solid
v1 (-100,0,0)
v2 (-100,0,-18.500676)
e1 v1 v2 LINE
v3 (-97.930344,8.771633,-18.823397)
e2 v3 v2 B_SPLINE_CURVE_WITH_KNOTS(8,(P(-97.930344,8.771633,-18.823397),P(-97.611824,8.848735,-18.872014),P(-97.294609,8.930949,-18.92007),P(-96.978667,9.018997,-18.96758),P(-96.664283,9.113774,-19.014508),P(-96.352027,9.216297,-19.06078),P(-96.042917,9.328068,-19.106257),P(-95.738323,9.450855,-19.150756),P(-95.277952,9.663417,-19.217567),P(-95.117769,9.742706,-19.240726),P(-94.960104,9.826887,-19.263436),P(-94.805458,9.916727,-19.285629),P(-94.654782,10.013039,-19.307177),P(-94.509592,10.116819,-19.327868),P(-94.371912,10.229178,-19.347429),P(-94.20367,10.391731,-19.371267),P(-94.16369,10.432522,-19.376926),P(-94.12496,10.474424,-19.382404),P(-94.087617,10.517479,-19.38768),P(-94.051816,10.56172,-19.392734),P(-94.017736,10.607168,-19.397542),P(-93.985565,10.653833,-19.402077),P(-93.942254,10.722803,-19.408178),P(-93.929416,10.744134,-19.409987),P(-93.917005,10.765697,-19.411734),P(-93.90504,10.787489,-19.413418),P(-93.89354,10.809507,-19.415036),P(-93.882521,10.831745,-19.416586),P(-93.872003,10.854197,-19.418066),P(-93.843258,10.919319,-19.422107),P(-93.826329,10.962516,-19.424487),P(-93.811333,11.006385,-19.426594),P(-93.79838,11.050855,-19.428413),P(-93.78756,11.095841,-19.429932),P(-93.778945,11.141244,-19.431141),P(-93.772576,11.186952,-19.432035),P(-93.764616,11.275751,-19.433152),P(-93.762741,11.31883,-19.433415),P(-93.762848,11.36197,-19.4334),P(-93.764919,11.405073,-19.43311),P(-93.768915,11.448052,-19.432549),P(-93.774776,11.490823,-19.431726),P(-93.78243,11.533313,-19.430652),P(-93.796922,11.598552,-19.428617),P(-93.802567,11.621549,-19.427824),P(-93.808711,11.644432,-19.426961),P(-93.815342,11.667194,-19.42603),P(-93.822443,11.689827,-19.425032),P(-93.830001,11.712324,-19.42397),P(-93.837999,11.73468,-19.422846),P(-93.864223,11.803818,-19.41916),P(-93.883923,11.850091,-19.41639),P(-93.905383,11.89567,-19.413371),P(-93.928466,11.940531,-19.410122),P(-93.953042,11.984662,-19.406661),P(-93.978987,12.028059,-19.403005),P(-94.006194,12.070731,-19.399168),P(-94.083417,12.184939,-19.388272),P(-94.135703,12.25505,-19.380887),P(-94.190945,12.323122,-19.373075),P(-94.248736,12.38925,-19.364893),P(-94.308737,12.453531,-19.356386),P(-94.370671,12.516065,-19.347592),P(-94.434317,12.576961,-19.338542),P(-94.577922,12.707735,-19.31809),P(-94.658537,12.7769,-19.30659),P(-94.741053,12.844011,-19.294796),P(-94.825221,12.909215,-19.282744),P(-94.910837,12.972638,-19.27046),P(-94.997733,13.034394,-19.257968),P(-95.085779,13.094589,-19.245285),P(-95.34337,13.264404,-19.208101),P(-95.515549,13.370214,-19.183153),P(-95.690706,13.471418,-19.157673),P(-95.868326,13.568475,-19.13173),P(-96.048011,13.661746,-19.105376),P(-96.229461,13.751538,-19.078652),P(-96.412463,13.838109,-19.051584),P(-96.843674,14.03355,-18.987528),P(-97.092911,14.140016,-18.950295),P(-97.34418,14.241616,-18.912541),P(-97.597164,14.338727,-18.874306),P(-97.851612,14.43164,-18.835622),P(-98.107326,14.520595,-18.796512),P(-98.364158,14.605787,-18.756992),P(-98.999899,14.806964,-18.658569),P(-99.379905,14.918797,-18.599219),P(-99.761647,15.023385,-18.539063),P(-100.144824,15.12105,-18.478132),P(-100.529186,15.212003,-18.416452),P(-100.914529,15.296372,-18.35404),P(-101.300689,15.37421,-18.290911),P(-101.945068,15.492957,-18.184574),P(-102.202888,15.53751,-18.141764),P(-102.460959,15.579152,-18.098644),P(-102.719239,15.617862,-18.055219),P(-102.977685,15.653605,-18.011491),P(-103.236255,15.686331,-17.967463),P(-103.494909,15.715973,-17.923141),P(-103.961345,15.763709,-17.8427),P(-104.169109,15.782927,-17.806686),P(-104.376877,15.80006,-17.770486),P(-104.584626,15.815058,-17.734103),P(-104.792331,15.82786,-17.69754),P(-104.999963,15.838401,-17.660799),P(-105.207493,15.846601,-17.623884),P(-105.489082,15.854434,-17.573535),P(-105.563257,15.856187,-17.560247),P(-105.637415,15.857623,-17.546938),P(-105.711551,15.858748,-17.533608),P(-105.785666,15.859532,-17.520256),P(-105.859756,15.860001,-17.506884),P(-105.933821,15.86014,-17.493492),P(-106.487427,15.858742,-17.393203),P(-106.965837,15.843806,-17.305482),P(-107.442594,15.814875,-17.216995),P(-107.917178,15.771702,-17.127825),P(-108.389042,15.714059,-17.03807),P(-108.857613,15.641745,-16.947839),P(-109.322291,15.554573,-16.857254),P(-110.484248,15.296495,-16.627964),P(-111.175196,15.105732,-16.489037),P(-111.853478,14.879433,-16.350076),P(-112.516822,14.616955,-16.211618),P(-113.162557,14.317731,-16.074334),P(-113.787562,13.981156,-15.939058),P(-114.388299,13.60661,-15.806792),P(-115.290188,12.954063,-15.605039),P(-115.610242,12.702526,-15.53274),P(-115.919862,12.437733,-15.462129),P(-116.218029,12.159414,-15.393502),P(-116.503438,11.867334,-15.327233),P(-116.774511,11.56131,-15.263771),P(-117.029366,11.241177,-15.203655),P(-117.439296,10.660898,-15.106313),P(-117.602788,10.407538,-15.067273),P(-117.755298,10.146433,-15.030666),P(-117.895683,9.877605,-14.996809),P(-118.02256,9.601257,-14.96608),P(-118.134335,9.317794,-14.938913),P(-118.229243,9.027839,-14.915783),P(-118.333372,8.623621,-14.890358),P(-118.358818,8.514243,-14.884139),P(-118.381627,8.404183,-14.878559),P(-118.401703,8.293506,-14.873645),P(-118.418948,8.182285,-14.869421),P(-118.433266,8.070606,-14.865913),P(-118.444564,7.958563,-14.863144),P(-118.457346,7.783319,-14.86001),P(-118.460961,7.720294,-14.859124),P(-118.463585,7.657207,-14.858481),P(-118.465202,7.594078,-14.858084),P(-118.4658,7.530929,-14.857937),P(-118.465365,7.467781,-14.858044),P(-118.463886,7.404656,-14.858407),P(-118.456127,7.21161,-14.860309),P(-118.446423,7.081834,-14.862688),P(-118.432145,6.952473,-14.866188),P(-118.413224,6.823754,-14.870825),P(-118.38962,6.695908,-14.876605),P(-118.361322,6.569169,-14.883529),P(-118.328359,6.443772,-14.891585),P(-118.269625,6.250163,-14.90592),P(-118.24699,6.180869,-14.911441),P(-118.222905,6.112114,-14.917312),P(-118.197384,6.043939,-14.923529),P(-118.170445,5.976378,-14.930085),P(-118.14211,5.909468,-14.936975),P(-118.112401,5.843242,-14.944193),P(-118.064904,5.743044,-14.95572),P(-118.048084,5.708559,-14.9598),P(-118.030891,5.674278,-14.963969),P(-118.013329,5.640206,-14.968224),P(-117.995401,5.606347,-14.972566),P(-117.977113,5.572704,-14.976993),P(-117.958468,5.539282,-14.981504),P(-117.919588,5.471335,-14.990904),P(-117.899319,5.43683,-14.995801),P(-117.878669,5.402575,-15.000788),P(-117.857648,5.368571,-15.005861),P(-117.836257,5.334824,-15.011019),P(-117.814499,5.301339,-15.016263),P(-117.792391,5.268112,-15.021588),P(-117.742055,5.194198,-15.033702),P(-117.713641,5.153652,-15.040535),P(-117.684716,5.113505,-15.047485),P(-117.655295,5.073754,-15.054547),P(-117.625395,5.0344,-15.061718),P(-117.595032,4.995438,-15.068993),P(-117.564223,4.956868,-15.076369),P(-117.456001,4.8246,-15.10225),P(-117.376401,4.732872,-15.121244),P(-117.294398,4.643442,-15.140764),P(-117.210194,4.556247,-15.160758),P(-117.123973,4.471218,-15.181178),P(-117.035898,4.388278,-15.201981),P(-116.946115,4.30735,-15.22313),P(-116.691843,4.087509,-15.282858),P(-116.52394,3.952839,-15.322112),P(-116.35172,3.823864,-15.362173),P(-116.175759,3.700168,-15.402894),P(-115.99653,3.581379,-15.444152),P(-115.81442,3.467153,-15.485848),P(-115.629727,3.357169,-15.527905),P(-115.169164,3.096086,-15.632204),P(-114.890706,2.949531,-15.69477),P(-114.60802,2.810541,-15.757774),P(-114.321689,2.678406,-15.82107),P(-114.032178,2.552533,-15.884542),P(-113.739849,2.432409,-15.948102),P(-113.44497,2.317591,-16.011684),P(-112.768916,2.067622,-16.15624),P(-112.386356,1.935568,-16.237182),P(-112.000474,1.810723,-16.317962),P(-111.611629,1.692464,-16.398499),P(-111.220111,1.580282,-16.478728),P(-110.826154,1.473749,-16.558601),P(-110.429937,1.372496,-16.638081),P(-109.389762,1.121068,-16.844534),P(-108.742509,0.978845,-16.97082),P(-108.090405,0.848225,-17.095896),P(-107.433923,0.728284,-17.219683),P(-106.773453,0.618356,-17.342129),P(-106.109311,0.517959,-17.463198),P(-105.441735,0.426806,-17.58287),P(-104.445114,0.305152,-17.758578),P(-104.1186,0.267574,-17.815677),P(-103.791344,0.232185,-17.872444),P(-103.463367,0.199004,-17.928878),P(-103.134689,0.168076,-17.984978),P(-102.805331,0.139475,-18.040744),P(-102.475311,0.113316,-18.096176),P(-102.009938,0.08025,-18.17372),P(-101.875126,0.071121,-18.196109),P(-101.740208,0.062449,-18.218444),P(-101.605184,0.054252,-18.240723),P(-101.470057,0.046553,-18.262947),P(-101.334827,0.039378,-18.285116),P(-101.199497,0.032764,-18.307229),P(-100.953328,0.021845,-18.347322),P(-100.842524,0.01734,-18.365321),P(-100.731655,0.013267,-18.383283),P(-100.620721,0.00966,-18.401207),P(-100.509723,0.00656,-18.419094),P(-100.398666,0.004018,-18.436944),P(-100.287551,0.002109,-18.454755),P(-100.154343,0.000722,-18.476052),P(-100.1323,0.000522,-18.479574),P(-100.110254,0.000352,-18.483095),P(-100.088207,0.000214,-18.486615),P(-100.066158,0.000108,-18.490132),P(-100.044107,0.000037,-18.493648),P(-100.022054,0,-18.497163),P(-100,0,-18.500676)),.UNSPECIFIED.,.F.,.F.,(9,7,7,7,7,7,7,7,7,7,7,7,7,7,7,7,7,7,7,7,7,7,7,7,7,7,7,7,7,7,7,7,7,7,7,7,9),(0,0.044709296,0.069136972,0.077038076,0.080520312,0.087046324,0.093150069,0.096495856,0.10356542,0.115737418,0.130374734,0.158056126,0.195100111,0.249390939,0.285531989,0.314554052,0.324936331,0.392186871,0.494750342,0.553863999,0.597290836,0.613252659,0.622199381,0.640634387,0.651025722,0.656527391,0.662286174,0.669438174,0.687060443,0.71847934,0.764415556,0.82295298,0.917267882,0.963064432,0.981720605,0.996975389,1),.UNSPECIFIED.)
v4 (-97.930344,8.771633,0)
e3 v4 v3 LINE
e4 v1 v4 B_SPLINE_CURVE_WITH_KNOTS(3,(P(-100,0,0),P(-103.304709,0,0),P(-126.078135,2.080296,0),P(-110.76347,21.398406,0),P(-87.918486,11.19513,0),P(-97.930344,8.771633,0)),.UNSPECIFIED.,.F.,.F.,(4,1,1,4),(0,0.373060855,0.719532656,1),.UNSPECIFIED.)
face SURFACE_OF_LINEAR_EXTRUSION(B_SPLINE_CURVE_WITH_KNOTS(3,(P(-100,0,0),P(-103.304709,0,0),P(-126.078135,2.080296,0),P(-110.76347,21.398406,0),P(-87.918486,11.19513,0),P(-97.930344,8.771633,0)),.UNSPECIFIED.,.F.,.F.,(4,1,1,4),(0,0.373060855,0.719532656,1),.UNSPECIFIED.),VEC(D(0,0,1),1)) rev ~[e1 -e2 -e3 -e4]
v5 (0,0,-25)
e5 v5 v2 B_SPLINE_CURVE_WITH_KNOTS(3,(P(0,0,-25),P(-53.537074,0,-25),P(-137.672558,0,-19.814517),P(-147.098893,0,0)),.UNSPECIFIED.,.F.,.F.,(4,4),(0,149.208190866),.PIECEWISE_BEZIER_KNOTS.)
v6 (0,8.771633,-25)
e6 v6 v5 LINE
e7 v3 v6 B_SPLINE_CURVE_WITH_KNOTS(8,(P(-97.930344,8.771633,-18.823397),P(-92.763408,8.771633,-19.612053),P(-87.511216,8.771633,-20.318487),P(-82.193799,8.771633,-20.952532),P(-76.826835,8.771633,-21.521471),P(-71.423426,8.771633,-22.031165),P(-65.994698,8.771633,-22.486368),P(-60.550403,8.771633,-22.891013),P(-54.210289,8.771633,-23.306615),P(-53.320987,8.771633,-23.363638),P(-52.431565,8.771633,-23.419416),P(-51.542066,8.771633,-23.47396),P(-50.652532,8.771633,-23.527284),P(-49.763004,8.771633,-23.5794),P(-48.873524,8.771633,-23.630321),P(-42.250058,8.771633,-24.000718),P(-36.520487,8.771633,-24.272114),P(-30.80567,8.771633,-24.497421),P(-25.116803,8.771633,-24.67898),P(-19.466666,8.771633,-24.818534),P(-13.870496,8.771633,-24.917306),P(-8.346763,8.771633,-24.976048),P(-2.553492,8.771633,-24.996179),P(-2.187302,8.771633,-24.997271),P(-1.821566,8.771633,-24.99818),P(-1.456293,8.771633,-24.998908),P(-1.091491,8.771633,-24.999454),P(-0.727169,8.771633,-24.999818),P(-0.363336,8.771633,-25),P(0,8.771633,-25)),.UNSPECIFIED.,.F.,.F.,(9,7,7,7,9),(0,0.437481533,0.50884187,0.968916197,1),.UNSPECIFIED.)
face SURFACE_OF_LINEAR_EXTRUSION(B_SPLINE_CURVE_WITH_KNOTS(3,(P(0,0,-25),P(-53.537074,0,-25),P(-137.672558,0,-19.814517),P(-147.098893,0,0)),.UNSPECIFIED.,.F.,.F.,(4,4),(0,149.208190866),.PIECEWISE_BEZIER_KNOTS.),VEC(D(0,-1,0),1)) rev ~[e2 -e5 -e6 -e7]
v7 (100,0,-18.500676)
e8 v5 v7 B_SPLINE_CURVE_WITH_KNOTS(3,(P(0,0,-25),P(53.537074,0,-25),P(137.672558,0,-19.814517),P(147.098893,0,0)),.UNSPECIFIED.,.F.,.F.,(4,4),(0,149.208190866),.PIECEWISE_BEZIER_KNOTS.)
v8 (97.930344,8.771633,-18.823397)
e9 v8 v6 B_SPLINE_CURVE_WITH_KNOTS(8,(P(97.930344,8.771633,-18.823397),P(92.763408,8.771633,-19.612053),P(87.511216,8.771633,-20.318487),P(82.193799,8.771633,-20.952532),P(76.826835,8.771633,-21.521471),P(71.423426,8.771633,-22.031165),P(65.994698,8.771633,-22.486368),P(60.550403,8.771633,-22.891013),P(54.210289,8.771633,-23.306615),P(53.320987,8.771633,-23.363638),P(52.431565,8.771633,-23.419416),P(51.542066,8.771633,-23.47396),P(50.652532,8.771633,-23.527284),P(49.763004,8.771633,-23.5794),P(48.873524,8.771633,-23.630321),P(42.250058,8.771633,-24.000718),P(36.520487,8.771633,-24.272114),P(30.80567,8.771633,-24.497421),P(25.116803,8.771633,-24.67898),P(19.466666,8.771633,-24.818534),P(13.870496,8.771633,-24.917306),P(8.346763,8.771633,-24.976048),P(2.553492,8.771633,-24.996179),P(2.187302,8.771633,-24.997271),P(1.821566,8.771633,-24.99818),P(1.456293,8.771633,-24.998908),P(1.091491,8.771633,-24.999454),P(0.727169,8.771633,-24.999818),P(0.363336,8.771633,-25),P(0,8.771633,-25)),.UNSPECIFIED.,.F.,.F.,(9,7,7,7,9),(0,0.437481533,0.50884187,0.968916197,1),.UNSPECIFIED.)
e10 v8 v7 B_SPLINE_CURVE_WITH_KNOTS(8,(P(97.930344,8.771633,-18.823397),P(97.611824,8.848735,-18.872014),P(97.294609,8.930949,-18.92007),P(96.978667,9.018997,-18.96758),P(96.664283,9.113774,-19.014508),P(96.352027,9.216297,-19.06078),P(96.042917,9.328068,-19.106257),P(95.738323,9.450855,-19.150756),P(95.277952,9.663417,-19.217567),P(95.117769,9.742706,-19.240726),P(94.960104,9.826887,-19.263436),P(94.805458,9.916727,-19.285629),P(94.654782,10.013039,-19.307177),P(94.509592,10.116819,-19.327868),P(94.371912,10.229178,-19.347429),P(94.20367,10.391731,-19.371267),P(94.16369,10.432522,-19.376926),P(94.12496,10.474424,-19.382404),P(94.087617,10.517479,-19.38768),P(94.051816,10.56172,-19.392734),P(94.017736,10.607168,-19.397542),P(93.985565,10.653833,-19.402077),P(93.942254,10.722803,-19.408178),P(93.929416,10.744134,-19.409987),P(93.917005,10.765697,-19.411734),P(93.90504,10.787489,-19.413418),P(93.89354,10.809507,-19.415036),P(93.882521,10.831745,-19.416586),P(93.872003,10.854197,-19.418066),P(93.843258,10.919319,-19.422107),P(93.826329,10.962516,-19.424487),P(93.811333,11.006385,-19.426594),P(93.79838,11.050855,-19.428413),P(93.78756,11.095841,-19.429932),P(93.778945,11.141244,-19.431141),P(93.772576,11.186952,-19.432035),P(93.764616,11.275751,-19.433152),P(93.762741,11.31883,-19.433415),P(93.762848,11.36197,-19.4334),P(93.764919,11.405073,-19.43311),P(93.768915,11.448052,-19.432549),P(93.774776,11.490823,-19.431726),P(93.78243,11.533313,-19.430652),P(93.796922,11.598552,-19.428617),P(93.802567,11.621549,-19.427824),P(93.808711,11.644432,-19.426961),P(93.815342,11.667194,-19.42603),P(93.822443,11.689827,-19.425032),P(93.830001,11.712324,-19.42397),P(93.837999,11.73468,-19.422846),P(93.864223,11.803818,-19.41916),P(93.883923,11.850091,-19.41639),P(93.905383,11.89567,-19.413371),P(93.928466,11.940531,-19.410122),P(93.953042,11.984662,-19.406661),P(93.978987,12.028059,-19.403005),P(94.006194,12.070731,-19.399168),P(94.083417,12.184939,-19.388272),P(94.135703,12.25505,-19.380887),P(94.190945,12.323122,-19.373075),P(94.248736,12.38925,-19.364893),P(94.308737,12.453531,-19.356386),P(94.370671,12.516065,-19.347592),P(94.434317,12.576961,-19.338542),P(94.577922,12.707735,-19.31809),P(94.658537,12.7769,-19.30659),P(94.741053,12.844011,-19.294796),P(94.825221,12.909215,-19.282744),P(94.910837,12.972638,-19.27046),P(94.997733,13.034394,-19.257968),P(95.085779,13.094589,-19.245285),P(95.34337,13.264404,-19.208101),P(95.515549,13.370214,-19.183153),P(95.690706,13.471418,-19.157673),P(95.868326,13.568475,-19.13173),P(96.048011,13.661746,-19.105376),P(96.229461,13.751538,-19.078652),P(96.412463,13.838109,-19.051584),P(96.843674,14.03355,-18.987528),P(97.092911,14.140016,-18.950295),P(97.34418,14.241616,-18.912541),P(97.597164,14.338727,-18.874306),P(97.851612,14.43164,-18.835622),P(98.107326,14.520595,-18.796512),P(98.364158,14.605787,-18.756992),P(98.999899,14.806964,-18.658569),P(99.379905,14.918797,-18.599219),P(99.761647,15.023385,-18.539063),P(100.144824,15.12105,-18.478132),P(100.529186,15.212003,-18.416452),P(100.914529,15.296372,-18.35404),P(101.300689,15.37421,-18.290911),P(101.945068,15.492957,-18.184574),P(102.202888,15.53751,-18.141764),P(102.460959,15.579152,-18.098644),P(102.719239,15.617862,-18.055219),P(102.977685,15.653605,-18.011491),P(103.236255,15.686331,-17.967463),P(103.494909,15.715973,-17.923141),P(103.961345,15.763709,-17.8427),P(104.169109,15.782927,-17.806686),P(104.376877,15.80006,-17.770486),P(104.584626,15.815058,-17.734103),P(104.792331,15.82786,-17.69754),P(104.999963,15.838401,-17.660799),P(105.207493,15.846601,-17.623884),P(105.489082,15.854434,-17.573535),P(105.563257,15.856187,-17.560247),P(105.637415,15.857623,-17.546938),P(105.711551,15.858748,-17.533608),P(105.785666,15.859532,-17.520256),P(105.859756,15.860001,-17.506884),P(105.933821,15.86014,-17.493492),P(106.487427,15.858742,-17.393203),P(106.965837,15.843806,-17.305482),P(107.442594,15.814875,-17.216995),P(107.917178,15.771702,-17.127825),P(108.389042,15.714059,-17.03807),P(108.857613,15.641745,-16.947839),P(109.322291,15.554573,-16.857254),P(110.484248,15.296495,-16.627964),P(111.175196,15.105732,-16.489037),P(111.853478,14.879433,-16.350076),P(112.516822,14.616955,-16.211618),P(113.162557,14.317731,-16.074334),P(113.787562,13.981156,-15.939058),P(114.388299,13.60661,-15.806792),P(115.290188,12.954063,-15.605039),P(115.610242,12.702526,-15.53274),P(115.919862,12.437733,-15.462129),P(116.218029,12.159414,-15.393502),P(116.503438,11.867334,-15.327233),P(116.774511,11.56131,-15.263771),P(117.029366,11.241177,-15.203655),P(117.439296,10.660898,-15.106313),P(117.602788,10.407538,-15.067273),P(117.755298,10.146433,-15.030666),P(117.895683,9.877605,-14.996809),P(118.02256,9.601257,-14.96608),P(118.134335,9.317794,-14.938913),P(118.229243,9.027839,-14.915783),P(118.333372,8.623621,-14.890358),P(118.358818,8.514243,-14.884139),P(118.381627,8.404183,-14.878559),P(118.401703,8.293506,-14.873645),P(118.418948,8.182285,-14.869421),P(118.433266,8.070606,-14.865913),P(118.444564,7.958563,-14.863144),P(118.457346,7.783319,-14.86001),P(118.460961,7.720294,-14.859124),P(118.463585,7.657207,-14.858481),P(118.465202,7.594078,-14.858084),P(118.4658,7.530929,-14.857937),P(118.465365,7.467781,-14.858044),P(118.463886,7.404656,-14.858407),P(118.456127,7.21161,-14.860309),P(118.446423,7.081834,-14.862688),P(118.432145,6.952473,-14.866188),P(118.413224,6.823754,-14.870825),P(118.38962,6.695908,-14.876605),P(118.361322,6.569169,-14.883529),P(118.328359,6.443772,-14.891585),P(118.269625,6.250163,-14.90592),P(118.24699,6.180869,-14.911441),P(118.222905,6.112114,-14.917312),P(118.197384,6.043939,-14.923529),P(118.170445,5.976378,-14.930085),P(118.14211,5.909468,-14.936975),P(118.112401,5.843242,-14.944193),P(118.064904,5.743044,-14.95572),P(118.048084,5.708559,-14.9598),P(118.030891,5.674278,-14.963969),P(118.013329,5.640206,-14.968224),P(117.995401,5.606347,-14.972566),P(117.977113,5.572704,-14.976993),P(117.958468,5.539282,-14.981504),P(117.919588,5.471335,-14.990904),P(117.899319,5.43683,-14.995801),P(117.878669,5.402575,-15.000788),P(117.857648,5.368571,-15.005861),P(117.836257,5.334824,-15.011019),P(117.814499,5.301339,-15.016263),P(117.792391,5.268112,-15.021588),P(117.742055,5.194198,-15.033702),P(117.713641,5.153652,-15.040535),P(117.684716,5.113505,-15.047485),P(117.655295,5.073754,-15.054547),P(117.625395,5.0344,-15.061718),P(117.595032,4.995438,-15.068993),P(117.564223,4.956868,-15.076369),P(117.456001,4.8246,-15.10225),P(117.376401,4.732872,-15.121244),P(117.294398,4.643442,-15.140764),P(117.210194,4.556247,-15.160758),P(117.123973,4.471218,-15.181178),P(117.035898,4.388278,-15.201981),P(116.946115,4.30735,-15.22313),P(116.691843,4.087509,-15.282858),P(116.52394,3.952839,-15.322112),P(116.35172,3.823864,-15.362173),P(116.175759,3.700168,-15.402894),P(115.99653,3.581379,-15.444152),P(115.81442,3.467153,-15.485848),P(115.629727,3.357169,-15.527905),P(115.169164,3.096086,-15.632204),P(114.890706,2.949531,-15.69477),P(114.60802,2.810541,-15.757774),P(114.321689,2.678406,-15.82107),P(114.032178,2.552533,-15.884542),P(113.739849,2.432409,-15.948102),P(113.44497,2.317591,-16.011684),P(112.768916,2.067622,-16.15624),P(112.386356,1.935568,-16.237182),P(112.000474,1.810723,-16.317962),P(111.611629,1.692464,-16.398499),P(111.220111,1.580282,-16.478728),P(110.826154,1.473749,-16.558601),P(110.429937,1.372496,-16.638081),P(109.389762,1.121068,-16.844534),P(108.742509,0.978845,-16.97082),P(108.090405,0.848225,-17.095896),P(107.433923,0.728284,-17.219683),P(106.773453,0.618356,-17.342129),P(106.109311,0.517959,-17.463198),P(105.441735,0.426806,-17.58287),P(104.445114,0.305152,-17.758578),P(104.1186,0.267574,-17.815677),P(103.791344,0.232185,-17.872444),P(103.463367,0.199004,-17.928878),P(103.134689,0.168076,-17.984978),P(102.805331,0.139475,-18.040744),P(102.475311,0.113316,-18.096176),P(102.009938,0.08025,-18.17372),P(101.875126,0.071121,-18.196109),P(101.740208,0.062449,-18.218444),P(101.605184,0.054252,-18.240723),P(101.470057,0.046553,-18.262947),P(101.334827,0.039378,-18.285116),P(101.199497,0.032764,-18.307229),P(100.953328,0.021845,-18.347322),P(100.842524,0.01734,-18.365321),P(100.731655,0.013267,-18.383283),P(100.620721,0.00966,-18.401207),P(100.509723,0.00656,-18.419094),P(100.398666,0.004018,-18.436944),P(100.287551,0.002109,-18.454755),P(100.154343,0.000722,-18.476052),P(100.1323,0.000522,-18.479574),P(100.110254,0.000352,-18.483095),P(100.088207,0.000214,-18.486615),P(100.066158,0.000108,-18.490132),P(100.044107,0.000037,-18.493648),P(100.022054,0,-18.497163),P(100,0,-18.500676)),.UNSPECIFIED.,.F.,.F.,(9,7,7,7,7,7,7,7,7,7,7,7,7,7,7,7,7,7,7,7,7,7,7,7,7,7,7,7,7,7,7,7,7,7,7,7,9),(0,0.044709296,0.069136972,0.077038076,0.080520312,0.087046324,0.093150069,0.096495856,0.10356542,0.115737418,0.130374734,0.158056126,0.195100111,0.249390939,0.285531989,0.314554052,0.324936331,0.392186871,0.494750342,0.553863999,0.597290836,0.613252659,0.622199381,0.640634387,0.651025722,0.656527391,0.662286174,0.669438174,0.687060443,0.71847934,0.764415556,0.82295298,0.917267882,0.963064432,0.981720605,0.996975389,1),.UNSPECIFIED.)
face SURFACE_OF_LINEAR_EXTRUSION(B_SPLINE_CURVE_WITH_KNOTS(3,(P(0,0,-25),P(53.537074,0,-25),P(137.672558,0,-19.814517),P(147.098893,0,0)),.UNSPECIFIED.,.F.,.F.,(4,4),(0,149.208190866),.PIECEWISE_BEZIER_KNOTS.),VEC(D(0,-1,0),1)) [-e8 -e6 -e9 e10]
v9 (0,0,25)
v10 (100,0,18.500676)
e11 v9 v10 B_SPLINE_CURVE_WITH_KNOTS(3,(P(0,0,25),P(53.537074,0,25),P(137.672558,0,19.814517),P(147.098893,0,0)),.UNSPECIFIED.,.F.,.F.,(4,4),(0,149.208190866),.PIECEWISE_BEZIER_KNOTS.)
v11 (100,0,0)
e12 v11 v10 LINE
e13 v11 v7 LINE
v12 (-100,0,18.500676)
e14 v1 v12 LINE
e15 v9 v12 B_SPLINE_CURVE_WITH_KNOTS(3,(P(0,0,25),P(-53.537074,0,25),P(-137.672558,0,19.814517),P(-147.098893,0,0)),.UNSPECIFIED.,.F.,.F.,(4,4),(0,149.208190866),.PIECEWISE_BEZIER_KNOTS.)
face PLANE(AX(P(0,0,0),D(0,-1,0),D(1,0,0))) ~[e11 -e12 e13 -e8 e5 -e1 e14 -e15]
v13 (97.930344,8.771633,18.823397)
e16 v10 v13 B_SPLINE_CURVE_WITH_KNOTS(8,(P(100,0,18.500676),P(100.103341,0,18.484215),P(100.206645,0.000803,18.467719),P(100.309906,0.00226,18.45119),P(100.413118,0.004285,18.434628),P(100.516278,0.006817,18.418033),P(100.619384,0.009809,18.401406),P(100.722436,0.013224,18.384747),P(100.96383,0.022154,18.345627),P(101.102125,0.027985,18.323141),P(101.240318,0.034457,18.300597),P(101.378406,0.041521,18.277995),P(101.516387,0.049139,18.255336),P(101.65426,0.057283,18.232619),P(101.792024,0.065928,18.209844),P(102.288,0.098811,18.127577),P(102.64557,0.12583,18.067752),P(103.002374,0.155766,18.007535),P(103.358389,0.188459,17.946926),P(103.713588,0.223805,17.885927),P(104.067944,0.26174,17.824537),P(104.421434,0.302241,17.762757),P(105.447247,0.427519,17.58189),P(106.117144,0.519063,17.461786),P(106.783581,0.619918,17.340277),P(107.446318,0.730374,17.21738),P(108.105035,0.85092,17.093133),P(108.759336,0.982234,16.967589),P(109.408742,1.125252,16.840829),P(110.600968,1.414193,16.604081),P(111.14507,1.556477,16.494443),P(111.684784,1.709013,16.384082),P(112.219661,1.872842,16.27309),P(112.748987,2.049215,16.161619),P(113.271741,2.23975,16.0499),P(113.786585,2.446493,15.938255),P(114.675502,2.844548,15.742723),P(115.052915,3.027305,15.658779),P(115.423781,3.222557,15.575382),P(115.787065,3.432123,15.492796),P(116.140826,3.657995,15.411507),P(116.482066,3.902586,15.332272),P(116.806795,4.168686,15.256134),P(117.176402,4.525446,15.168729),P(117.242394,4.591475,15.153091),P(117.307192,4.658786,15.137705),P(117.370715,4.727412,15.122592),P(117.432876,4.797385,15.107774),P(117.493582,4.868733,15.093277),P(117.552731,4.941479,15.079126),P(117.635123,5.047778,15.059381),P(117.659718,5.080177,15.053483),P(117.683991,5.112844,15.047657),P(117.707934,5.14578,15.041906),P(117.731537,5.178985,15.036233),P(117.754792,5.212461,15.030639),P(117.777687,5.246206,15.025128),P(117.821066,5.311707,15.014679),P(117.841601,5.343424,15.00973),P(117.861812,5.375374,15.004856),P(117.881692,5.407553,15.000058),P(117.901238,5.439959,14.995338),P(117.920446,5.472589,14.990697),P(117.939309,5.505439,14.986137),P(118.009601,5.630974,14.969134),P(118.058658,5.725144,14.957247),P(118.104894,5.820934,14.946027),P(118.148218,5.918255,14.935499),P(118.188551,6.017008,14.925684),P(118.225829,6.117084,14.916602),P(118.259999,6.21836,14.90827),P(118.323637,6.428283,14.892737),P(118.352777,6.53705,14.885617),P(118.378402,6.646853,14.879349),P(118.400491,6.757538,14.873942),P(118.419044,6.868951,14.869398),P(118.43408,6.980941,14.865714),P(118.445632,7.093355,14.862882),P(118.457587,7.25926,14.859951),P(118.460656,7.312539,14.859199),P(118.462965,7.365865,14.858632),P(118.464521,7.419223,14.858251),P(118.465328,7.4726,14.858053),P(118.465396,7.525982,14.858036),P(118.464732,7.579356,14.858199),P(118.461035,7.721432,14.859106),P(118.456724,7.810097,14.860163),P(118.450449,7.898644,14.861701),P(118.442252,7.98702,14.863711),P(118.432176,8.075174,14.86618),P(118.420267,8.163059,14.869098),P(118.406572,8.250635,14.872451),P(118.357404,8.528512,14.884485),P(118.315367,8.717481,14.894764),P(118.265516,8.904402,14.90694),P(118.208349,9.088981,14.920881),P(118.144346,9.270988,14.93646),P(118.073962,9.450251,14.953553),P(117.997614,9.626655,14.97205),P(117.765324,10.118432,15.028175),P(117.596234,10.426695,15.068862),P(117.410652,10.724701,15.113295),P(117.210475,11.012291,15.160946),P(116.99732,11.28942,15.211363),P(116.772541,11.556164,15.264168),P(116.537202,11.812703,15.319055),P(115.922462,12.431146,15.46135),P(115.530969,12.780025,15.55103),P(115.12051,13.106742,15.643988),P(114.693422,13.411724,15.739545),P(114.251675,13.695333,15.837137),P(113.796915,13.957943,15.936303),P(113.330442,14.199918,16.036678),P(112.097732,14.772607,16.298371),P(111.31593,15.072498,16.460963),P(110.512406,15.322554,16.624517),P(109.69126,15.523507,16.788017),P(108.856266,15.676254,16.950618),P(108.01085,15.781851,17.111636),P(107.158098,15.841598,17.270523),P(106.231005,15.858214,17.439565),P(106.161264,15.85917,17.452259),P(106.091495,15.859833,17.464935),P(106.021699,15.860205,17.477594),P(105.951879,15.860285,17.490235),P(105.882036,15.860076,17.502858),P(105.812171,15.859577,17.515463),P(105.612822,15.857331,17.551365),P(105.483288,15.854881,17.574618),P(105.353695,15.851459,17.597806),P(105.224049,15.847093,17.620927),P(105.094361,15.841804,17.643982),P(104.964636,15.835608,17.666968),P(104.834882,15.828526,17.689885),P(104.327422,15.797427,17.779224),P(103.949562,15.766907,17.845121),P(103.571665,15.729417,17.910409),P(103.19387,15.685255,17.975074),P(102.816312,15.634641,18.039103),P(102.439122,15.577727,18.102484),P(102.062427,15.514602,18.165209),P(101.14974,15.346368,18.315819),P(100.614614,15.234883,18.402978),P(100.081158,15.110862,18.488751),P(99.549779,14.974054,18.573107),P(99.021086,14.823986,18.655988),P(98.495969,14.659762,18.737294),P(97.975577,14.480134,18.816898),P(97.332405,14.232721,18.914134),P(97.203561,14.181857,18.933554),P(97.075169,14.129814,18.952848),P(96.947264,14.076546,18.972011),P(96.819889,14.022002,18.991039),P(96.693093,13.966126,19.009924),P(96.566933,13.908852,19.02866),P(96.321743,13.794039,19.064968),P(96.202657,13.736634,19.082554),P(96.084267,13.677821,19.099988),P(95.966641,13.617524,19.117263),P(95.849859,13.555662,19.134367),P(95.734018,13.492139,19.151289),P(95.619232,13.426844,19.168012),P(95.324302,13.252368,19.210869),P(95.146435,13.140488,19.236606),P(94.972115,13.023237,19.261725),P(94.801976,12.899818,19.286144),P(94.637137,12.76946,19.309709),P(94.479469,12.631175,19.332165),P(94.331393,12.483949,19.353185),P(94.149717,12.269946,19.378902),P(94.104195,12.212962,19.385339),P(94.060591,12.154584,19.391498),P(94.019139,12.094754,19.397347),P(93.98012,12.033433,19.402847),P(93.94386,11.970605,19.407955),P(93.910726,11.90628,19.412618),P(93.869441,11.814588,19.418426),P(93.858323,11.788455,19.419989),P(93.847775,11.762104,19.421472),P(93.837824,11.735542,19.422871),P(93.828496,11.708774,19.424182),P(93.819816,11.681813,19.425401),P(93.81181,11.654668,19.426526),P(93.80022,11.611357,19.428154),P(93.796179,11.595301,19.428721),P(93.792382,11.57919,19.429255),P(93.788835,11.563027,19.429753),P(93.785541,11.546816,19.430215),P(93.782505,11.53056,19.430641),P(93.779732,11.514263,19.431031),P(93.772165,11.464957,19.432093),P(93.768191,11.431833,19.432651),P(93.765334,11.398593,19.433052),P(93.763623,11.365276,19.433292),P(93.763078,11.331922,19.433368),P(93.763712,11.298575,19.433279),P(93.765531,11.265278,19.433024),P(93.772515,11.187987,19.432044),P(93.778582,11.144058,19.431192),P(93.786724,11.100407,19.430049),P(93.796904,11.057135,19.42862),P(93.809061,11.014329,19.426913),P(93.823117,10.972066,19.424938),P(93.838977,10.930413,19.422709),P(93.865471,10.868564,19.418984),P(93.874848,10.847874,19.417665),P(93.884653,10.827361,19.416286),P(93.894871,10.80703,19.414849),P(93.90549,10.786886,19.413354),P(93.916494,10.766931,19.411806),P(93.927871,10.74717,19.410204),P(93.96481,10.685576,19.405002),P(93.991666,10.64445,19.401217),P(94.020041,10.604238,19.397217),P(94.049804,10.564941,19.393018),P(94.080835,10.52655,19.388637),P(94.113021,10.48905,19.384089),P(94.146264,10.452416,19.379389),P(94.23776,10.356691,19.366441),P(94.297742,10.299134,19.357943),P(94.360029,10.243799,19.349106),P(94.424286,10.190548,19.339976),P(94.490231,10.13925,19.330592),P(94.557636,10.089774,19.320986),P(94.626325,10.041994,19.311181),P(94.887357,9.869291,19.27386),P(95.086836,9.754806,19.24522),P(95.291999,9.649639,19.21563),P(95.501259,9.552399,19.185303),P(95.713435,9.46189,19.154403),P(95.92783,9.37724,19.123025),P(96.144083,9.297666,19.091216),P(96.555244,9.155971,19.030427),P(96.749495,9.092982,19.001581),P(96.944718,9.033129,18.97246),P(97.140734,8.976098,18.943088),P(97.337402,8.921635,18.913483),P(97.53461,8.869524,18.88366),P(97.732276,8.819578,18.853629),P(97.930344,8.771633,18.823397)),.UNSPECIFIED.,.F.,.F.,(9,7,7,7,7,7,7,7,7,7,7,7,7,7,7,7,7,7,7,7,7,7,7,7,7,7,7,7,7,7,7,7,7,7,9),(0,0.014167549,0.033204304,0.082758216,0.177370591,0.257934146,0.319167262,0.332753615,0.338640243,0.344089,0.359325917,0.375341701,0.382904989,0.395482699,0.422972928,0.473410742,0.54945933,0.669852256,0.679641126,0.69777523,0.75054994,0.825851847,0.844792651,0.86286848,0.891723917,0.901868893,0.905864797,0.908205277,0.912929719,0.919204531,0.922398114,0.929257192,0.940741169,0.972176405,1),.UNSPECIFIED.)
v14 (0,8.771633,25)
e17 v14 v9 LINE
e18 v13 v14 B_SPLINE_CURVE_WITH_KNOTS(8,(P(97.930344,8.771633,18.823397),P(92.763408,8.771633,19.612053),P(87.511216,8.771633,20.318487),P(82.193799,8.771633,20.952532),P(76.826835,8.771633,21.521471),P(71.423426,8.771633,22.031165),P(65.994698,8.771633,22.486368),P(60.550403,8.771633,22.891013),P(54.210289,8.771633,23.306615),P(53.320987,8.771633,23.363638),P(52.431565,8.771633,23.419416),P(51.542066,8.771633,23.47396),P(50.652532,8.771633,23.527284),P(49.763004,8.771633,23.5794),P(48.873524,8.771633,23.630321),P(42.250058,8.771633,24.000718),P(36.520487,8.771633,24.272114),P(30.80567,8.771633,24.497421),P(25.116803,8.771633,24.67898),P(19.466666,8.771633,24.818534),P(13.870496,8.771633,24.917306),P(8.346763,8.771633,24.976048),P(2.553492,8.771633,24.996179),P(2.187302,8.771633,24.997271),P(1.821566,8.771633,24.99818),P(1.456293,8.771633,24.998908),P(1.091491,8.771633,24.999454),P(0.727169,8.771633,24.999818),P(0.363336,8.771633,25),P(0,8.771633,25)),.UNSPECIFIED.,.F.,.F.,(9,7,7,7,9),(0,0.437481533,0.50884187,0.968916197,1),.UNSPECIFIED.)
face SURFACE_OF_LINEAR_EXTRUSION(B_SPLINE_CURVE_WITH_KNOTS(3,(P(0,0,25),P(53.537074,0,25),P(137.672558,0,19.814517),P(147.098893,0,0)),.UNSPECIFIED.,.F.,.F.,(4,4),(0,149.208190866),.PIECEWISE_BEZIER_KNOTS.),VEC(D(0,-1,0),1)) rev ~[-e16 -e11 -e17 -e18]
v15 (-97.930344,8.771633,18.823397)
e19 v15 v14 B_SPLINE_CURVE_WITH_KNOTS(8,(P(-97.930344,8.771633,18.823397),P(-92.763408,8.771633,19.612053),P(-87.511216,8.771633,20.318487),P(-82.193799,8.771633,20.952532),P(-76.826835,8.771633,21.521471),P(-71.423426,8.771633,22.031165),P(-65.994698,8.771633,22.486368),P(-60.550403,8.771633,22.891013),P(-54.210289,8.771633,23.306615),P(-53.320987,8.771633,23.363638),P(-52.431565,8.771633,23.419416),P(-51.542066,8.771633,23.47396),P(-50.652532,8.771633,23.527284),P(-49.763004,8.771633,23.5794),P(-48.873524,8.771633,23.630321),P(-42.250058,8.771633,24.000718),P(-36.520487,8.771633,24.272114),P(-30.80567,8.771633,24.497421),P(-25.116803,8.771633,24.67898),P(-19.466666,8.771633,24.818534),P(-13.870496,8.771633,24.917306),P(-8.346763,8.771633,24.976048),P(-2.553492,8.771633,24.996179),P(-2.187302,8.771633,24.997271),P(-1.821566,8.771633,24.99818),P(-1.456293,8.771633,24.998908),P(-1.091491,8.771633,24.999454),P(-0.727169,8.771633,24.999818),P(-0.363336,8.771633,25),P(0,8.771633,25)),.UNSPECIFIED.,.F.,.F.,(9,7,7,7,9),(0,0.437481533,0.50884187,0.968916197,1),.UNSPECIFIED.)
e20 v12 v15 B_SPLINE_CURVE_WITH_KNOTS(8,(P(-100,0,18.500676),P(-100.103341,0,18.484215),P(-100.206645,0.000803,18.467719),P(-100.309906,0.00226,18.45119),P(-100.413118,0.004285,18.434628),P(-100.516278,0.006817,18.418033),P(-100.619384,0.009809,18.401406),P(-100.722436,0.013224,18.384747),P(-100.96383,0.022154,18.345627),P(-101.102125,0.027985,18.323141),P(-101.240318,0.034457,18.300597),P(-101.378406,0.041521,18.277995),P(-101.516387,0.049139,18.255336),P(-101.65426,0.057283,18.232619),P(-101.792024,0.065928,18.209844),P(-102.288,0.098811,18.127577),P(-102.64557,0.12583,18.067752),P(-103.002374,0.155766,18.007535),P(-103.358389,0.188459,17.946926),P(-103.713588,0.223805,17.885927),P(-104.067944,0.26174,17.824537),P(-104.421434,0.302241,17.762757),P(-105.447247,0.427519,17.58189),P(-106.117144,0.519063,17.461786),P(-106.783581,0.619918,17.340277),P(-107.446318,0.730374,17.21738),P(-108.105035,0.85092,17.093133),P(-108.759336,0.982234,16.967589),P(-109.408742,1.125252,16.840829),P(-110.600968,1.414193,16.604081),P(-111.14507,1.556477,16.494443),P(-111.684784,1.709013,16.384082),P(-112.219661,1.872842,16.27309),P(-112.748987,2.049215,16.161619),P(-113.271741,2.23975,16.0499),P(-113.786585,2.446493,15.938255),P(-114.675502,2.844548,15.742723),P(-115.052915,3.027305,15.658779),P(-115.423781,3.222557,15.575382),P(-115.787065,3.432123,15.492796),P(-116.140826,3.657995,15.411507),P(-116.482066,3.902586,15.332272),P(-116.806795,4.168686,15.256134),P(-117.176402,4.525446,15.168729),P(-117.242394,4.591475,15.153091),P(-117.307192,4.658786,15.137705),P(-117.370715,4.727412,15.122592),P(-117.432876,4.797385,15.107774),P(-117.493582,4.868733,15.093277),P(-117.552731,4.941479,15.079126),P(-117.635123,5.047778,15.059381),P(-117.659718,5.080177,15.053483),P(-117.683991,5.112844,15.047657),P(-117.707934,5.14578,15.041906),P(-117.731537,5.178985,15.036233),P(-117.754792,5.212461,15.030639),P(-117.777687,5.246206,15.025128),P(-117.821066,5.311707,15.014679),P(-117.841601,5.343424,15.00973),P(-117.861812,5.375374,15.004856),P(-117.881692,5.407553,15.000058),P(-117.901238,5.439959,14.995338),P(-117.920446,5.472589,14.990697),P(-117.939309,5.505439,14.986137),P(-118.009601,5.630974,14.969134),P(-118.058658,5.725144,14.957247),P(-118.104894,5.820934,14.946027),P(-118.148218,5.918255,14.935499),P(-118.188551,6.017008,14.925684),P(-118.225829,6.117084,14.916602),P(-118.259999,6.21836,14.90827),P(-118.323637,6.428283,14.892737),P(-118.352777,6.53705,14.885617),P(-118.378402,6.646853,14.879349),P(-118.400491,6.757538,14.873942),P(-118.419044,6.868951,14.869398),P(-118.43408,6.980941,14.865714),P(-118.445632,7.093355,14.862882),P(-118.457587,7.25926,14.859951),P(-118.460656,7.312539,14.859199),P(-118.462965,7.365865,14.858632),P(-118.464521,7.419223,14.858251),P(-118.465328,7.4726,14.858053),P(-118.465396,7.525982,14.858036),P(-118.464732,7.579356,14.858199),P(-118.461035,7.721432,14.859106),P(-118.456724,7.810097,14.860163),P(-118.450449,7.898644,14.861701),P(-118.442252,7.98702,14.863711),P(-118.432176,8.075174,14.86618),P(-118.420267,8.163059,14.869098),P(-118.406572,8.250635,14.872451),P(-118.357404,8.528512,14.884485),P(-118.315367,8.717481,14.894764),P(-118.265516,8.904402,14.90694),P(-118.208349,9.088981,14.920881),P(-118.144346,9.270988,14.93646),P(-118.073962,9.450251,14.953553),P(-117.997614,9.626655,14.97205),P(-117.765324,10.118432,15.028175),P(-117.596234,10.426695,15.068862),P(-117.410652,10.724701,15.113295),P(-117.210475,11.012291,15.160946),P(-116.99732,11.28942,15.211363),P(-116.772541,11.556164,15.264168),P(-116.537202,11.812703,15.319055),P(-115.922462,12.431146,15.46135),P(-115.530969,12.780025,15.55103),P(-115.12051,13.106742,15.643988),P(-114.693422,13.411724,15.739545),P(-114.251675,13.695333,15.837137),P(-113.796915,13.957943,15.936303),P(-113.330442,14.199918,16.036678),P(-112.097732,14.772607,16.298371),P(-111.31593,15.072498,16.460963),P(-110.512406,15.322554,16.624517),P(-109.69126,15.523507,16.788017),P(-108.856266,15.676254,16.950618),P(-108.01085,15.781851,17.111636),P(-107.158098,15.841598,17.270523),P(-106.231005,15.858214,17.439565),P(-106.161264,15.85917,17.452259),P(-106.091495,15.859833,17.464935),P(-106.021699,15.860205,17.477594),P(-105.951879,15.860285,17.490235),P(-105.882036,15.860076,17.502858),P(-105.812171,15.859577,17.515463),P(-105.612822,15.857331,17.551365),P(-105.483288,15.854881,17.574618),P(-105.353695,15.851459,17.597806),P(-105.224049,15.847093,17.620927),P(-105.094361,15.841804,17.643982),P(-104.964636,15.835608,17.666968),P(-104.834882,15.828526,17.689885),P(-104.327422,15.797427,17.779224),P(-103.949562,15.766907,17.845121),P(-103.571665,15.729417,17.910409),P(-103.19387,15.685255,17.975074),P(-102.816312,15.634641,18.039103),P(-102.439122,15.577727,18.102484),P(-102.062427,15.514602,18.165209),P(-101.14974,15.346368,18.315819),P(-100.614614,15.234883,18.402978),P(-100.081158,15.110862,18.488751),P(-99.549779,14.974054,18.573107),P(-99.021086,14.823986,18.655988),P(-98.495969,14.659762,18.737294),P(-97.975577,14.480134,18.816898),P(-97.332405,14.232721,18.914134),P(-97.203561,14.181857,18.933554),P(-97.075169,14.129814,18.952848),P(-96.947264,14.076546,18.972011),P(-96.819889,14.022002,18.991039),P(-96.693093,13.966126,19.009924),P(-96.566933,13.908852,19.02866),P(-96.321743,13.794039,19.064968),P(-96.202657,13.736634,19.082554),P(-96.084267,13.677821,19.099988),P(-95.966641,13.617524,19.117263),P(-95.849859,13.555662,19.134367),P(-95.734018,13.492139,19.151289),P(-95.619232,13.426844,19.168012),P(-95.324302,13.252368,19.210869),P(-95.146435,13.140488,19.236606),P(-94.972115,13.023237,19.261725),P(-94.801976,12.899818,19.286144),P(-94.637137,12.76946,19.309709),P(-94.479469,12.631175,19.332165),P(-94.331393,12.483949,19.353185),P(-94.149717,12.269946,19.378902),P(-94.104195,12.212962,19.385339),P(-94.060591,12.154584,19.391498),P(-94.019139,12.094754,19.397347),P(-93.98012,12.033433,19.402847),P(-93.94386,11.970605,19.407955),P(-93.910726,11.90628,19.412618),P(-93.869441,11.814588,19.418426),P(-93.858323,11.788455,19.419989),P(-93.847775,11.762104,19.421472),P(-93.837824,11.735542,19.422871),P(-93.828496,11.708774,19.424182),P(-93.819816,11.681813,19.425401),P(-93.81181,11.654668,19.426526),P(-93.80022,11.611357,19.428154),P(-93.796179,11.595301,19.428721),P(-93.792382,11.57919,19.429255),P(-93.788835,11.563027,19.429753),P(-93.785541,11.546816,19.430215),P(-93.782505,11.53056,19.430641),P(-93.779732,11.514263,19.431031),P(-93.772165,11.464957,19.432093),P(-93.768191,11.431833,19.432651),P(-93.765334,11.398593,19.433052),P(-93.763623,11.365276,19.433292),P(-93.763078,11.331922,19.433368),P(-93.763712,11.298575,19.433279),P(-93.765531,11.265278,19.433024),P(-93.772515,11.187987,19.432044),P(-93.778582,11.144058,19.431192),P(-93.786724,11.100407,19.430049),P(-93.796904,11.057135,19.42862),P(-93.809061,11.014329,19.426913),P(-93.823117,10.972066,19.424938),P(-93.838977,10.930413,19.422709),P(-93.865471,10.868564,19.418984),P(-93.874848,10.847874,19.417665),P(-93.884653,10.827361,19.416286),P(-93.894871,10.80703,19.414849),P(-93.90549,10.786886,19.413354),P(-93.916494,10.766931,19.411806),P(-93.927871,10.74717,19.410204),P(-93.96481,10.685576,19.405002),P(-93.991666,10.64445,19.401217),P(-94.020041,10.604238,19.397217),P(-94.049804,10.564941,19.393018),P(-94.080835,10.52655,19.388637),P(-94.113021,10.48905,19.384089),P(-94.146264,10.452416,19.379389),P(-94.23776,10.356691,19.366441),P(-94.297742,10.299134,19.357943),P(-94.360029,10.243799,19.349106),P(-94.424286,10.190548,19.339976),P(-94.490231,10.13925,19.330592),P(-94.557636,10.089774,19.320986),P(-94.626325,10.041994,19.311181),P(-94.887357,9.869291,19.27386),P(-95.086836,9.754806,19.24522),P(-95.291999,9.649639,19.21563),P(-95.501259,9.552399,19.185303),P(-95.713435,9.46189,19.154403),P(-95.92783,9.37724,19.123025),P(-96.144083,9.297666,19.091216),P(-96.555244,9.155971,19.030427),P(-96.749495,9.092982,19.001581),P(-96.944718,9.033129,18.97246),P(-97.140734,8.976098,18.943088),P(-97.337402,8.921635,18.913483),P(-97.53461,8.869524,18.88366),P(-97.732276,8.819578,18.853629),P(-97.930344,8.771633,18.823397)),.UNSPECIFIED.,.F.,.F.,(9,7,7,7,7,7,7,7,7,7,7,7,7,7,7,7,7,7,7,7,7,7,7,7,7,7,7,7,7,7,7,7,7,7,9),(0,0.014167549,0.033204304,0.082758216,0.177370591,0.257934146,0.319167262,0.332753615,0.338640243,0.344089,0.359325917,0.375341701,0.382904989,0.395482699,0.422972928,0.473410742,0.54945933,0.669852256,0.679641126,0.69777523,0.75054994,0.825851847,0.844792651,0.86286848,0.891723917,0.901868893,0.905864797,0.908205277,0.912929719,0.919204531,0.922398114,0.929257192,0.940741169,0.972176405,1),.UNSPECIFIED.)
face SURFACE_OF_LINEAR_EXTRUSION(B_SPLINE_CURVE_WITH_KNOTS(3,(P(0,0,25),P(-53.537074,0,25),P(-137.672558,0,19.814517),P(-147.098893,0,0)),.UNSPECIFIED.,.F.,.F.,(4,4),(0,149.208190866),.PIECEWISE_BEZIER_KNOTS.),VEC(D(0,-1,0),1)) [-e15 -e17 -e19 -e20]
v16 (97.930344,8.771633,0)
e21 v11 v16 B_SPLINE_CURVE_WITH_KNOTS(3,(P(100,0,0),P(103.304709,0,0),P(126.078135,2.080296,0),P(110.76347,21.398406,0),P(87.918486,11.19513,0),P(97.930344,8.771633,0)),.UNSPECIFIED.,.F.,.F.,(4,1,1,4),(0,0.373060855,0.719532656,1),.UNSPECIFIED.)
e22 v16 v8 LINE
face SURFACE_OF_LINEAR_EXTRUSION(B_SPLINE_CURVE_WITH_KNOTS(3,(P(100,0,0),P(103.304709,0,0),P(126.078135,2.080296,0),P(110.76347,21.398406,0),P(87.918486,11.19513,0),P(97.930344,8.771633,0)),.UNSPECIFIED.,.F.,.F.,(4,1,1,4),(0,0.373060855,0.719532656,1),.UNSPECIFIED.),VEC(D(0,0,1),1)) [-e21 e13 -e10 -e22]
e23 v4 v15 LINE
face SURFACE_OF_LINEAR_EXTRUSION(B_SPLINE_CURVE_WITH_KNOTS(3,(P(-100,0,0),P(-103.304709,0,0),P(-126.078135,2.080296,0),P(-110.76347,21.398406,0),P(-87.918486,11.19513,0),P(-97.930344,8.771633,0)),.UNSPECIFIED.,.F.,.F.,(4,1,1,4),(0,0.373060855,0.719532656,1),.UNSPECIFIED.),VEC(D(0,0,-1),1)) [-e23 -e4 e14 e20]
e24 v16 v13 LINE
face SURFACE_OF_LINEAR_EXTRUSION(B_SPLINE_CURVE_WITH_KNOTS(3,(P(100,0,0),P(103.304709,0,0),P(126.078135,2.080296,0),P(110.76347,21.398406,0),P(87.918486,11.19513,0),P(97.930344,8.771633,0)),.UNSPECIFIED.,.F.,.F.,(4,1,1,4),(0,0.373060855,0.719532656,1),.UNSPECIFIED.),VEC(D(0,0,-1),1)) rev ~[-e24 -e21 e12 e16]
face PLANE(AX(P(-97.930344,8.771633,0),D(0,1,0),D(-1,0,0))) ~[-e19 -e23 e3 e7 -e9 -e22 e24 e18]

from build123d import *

# Parameters (mm, degrees)
F1_DEPTH      = 25
F1_DEPTH_BACK = 25
F3_DEPTH      = 15.8610146991


with BuildPart() as f1:
    # F0 (on Top) → F1 (new body, two sides)
    with BuildSketch(Plane.XY) as f1_sk:
        with BuildLine():
            Line((0, 8.7716327729), (0, 0))
            Line((0, 0), (100, 0))
            add(Edge.make_bspline(
                [(100, 0), (103.3047086604, 0), (126.0781351696, 2.0802962722), (110.7634703086, 21.3984059812), (87.918486092, 11.1951300923), (97.9303441448, 8.7716327729)],
                knots=[0, 0, 0, 0, 0.3730608547, 0.7195326557, 1, 1, 1, 1], degree=3))
            Line((97.9303441448, 8.7716327729), (0, 8.7716327729))
        make_face()
    extrude(amount=F1_DEPTH)
    extrude(f1_sk.sketch, amount=-F1_DEPTH_BACK)

    # F2 (on Front) → F3 (cut, through all)
    with BuildSketch(Plane.XZ):
        with BuildLine():
            Line((149.6758162975, 30.9919379652), (0, 25))
            add(Edge.make_bspline(
                [(0, 25), (53.5370744765, 25), (137.6725584269, 19.814517349), (147.0988926594, 0)],
                knots=[0, 0, 0, 0, 149.2081908664, 149.2081908664, 149.2081908664, 149.2081908664], degree=3))
            Line((147.0988926594, 0), (149.6758162975, 30.9919379652))
        make_face()
        with BuildLine():
            Line((149.6758162975, -30.9919379652), (147.0988926594, 0))
            add(Edge.make_bspline(
                [(0, -25), (53.5370744765, -25), (137.6725584269, -19.814517349), (147.0988926594, 0)],
                knots=[0, 0, 0, 0, 149.2081908664, 149.2081908664, 149.2081908664, 149.2081908664], degree=3))
            Line((0, -25), (149.6758162975, -30.9919379652))
        make_face()
    extrude(amount=-F3_DEPTH, mode=Mode.SUBTRACT)

    # F4: F1 across plane


with BuildPart() as f1_1:
    add(f1.part)
    add(f1.part.mirror(Plane.YZ))


solid = f1_1.part
